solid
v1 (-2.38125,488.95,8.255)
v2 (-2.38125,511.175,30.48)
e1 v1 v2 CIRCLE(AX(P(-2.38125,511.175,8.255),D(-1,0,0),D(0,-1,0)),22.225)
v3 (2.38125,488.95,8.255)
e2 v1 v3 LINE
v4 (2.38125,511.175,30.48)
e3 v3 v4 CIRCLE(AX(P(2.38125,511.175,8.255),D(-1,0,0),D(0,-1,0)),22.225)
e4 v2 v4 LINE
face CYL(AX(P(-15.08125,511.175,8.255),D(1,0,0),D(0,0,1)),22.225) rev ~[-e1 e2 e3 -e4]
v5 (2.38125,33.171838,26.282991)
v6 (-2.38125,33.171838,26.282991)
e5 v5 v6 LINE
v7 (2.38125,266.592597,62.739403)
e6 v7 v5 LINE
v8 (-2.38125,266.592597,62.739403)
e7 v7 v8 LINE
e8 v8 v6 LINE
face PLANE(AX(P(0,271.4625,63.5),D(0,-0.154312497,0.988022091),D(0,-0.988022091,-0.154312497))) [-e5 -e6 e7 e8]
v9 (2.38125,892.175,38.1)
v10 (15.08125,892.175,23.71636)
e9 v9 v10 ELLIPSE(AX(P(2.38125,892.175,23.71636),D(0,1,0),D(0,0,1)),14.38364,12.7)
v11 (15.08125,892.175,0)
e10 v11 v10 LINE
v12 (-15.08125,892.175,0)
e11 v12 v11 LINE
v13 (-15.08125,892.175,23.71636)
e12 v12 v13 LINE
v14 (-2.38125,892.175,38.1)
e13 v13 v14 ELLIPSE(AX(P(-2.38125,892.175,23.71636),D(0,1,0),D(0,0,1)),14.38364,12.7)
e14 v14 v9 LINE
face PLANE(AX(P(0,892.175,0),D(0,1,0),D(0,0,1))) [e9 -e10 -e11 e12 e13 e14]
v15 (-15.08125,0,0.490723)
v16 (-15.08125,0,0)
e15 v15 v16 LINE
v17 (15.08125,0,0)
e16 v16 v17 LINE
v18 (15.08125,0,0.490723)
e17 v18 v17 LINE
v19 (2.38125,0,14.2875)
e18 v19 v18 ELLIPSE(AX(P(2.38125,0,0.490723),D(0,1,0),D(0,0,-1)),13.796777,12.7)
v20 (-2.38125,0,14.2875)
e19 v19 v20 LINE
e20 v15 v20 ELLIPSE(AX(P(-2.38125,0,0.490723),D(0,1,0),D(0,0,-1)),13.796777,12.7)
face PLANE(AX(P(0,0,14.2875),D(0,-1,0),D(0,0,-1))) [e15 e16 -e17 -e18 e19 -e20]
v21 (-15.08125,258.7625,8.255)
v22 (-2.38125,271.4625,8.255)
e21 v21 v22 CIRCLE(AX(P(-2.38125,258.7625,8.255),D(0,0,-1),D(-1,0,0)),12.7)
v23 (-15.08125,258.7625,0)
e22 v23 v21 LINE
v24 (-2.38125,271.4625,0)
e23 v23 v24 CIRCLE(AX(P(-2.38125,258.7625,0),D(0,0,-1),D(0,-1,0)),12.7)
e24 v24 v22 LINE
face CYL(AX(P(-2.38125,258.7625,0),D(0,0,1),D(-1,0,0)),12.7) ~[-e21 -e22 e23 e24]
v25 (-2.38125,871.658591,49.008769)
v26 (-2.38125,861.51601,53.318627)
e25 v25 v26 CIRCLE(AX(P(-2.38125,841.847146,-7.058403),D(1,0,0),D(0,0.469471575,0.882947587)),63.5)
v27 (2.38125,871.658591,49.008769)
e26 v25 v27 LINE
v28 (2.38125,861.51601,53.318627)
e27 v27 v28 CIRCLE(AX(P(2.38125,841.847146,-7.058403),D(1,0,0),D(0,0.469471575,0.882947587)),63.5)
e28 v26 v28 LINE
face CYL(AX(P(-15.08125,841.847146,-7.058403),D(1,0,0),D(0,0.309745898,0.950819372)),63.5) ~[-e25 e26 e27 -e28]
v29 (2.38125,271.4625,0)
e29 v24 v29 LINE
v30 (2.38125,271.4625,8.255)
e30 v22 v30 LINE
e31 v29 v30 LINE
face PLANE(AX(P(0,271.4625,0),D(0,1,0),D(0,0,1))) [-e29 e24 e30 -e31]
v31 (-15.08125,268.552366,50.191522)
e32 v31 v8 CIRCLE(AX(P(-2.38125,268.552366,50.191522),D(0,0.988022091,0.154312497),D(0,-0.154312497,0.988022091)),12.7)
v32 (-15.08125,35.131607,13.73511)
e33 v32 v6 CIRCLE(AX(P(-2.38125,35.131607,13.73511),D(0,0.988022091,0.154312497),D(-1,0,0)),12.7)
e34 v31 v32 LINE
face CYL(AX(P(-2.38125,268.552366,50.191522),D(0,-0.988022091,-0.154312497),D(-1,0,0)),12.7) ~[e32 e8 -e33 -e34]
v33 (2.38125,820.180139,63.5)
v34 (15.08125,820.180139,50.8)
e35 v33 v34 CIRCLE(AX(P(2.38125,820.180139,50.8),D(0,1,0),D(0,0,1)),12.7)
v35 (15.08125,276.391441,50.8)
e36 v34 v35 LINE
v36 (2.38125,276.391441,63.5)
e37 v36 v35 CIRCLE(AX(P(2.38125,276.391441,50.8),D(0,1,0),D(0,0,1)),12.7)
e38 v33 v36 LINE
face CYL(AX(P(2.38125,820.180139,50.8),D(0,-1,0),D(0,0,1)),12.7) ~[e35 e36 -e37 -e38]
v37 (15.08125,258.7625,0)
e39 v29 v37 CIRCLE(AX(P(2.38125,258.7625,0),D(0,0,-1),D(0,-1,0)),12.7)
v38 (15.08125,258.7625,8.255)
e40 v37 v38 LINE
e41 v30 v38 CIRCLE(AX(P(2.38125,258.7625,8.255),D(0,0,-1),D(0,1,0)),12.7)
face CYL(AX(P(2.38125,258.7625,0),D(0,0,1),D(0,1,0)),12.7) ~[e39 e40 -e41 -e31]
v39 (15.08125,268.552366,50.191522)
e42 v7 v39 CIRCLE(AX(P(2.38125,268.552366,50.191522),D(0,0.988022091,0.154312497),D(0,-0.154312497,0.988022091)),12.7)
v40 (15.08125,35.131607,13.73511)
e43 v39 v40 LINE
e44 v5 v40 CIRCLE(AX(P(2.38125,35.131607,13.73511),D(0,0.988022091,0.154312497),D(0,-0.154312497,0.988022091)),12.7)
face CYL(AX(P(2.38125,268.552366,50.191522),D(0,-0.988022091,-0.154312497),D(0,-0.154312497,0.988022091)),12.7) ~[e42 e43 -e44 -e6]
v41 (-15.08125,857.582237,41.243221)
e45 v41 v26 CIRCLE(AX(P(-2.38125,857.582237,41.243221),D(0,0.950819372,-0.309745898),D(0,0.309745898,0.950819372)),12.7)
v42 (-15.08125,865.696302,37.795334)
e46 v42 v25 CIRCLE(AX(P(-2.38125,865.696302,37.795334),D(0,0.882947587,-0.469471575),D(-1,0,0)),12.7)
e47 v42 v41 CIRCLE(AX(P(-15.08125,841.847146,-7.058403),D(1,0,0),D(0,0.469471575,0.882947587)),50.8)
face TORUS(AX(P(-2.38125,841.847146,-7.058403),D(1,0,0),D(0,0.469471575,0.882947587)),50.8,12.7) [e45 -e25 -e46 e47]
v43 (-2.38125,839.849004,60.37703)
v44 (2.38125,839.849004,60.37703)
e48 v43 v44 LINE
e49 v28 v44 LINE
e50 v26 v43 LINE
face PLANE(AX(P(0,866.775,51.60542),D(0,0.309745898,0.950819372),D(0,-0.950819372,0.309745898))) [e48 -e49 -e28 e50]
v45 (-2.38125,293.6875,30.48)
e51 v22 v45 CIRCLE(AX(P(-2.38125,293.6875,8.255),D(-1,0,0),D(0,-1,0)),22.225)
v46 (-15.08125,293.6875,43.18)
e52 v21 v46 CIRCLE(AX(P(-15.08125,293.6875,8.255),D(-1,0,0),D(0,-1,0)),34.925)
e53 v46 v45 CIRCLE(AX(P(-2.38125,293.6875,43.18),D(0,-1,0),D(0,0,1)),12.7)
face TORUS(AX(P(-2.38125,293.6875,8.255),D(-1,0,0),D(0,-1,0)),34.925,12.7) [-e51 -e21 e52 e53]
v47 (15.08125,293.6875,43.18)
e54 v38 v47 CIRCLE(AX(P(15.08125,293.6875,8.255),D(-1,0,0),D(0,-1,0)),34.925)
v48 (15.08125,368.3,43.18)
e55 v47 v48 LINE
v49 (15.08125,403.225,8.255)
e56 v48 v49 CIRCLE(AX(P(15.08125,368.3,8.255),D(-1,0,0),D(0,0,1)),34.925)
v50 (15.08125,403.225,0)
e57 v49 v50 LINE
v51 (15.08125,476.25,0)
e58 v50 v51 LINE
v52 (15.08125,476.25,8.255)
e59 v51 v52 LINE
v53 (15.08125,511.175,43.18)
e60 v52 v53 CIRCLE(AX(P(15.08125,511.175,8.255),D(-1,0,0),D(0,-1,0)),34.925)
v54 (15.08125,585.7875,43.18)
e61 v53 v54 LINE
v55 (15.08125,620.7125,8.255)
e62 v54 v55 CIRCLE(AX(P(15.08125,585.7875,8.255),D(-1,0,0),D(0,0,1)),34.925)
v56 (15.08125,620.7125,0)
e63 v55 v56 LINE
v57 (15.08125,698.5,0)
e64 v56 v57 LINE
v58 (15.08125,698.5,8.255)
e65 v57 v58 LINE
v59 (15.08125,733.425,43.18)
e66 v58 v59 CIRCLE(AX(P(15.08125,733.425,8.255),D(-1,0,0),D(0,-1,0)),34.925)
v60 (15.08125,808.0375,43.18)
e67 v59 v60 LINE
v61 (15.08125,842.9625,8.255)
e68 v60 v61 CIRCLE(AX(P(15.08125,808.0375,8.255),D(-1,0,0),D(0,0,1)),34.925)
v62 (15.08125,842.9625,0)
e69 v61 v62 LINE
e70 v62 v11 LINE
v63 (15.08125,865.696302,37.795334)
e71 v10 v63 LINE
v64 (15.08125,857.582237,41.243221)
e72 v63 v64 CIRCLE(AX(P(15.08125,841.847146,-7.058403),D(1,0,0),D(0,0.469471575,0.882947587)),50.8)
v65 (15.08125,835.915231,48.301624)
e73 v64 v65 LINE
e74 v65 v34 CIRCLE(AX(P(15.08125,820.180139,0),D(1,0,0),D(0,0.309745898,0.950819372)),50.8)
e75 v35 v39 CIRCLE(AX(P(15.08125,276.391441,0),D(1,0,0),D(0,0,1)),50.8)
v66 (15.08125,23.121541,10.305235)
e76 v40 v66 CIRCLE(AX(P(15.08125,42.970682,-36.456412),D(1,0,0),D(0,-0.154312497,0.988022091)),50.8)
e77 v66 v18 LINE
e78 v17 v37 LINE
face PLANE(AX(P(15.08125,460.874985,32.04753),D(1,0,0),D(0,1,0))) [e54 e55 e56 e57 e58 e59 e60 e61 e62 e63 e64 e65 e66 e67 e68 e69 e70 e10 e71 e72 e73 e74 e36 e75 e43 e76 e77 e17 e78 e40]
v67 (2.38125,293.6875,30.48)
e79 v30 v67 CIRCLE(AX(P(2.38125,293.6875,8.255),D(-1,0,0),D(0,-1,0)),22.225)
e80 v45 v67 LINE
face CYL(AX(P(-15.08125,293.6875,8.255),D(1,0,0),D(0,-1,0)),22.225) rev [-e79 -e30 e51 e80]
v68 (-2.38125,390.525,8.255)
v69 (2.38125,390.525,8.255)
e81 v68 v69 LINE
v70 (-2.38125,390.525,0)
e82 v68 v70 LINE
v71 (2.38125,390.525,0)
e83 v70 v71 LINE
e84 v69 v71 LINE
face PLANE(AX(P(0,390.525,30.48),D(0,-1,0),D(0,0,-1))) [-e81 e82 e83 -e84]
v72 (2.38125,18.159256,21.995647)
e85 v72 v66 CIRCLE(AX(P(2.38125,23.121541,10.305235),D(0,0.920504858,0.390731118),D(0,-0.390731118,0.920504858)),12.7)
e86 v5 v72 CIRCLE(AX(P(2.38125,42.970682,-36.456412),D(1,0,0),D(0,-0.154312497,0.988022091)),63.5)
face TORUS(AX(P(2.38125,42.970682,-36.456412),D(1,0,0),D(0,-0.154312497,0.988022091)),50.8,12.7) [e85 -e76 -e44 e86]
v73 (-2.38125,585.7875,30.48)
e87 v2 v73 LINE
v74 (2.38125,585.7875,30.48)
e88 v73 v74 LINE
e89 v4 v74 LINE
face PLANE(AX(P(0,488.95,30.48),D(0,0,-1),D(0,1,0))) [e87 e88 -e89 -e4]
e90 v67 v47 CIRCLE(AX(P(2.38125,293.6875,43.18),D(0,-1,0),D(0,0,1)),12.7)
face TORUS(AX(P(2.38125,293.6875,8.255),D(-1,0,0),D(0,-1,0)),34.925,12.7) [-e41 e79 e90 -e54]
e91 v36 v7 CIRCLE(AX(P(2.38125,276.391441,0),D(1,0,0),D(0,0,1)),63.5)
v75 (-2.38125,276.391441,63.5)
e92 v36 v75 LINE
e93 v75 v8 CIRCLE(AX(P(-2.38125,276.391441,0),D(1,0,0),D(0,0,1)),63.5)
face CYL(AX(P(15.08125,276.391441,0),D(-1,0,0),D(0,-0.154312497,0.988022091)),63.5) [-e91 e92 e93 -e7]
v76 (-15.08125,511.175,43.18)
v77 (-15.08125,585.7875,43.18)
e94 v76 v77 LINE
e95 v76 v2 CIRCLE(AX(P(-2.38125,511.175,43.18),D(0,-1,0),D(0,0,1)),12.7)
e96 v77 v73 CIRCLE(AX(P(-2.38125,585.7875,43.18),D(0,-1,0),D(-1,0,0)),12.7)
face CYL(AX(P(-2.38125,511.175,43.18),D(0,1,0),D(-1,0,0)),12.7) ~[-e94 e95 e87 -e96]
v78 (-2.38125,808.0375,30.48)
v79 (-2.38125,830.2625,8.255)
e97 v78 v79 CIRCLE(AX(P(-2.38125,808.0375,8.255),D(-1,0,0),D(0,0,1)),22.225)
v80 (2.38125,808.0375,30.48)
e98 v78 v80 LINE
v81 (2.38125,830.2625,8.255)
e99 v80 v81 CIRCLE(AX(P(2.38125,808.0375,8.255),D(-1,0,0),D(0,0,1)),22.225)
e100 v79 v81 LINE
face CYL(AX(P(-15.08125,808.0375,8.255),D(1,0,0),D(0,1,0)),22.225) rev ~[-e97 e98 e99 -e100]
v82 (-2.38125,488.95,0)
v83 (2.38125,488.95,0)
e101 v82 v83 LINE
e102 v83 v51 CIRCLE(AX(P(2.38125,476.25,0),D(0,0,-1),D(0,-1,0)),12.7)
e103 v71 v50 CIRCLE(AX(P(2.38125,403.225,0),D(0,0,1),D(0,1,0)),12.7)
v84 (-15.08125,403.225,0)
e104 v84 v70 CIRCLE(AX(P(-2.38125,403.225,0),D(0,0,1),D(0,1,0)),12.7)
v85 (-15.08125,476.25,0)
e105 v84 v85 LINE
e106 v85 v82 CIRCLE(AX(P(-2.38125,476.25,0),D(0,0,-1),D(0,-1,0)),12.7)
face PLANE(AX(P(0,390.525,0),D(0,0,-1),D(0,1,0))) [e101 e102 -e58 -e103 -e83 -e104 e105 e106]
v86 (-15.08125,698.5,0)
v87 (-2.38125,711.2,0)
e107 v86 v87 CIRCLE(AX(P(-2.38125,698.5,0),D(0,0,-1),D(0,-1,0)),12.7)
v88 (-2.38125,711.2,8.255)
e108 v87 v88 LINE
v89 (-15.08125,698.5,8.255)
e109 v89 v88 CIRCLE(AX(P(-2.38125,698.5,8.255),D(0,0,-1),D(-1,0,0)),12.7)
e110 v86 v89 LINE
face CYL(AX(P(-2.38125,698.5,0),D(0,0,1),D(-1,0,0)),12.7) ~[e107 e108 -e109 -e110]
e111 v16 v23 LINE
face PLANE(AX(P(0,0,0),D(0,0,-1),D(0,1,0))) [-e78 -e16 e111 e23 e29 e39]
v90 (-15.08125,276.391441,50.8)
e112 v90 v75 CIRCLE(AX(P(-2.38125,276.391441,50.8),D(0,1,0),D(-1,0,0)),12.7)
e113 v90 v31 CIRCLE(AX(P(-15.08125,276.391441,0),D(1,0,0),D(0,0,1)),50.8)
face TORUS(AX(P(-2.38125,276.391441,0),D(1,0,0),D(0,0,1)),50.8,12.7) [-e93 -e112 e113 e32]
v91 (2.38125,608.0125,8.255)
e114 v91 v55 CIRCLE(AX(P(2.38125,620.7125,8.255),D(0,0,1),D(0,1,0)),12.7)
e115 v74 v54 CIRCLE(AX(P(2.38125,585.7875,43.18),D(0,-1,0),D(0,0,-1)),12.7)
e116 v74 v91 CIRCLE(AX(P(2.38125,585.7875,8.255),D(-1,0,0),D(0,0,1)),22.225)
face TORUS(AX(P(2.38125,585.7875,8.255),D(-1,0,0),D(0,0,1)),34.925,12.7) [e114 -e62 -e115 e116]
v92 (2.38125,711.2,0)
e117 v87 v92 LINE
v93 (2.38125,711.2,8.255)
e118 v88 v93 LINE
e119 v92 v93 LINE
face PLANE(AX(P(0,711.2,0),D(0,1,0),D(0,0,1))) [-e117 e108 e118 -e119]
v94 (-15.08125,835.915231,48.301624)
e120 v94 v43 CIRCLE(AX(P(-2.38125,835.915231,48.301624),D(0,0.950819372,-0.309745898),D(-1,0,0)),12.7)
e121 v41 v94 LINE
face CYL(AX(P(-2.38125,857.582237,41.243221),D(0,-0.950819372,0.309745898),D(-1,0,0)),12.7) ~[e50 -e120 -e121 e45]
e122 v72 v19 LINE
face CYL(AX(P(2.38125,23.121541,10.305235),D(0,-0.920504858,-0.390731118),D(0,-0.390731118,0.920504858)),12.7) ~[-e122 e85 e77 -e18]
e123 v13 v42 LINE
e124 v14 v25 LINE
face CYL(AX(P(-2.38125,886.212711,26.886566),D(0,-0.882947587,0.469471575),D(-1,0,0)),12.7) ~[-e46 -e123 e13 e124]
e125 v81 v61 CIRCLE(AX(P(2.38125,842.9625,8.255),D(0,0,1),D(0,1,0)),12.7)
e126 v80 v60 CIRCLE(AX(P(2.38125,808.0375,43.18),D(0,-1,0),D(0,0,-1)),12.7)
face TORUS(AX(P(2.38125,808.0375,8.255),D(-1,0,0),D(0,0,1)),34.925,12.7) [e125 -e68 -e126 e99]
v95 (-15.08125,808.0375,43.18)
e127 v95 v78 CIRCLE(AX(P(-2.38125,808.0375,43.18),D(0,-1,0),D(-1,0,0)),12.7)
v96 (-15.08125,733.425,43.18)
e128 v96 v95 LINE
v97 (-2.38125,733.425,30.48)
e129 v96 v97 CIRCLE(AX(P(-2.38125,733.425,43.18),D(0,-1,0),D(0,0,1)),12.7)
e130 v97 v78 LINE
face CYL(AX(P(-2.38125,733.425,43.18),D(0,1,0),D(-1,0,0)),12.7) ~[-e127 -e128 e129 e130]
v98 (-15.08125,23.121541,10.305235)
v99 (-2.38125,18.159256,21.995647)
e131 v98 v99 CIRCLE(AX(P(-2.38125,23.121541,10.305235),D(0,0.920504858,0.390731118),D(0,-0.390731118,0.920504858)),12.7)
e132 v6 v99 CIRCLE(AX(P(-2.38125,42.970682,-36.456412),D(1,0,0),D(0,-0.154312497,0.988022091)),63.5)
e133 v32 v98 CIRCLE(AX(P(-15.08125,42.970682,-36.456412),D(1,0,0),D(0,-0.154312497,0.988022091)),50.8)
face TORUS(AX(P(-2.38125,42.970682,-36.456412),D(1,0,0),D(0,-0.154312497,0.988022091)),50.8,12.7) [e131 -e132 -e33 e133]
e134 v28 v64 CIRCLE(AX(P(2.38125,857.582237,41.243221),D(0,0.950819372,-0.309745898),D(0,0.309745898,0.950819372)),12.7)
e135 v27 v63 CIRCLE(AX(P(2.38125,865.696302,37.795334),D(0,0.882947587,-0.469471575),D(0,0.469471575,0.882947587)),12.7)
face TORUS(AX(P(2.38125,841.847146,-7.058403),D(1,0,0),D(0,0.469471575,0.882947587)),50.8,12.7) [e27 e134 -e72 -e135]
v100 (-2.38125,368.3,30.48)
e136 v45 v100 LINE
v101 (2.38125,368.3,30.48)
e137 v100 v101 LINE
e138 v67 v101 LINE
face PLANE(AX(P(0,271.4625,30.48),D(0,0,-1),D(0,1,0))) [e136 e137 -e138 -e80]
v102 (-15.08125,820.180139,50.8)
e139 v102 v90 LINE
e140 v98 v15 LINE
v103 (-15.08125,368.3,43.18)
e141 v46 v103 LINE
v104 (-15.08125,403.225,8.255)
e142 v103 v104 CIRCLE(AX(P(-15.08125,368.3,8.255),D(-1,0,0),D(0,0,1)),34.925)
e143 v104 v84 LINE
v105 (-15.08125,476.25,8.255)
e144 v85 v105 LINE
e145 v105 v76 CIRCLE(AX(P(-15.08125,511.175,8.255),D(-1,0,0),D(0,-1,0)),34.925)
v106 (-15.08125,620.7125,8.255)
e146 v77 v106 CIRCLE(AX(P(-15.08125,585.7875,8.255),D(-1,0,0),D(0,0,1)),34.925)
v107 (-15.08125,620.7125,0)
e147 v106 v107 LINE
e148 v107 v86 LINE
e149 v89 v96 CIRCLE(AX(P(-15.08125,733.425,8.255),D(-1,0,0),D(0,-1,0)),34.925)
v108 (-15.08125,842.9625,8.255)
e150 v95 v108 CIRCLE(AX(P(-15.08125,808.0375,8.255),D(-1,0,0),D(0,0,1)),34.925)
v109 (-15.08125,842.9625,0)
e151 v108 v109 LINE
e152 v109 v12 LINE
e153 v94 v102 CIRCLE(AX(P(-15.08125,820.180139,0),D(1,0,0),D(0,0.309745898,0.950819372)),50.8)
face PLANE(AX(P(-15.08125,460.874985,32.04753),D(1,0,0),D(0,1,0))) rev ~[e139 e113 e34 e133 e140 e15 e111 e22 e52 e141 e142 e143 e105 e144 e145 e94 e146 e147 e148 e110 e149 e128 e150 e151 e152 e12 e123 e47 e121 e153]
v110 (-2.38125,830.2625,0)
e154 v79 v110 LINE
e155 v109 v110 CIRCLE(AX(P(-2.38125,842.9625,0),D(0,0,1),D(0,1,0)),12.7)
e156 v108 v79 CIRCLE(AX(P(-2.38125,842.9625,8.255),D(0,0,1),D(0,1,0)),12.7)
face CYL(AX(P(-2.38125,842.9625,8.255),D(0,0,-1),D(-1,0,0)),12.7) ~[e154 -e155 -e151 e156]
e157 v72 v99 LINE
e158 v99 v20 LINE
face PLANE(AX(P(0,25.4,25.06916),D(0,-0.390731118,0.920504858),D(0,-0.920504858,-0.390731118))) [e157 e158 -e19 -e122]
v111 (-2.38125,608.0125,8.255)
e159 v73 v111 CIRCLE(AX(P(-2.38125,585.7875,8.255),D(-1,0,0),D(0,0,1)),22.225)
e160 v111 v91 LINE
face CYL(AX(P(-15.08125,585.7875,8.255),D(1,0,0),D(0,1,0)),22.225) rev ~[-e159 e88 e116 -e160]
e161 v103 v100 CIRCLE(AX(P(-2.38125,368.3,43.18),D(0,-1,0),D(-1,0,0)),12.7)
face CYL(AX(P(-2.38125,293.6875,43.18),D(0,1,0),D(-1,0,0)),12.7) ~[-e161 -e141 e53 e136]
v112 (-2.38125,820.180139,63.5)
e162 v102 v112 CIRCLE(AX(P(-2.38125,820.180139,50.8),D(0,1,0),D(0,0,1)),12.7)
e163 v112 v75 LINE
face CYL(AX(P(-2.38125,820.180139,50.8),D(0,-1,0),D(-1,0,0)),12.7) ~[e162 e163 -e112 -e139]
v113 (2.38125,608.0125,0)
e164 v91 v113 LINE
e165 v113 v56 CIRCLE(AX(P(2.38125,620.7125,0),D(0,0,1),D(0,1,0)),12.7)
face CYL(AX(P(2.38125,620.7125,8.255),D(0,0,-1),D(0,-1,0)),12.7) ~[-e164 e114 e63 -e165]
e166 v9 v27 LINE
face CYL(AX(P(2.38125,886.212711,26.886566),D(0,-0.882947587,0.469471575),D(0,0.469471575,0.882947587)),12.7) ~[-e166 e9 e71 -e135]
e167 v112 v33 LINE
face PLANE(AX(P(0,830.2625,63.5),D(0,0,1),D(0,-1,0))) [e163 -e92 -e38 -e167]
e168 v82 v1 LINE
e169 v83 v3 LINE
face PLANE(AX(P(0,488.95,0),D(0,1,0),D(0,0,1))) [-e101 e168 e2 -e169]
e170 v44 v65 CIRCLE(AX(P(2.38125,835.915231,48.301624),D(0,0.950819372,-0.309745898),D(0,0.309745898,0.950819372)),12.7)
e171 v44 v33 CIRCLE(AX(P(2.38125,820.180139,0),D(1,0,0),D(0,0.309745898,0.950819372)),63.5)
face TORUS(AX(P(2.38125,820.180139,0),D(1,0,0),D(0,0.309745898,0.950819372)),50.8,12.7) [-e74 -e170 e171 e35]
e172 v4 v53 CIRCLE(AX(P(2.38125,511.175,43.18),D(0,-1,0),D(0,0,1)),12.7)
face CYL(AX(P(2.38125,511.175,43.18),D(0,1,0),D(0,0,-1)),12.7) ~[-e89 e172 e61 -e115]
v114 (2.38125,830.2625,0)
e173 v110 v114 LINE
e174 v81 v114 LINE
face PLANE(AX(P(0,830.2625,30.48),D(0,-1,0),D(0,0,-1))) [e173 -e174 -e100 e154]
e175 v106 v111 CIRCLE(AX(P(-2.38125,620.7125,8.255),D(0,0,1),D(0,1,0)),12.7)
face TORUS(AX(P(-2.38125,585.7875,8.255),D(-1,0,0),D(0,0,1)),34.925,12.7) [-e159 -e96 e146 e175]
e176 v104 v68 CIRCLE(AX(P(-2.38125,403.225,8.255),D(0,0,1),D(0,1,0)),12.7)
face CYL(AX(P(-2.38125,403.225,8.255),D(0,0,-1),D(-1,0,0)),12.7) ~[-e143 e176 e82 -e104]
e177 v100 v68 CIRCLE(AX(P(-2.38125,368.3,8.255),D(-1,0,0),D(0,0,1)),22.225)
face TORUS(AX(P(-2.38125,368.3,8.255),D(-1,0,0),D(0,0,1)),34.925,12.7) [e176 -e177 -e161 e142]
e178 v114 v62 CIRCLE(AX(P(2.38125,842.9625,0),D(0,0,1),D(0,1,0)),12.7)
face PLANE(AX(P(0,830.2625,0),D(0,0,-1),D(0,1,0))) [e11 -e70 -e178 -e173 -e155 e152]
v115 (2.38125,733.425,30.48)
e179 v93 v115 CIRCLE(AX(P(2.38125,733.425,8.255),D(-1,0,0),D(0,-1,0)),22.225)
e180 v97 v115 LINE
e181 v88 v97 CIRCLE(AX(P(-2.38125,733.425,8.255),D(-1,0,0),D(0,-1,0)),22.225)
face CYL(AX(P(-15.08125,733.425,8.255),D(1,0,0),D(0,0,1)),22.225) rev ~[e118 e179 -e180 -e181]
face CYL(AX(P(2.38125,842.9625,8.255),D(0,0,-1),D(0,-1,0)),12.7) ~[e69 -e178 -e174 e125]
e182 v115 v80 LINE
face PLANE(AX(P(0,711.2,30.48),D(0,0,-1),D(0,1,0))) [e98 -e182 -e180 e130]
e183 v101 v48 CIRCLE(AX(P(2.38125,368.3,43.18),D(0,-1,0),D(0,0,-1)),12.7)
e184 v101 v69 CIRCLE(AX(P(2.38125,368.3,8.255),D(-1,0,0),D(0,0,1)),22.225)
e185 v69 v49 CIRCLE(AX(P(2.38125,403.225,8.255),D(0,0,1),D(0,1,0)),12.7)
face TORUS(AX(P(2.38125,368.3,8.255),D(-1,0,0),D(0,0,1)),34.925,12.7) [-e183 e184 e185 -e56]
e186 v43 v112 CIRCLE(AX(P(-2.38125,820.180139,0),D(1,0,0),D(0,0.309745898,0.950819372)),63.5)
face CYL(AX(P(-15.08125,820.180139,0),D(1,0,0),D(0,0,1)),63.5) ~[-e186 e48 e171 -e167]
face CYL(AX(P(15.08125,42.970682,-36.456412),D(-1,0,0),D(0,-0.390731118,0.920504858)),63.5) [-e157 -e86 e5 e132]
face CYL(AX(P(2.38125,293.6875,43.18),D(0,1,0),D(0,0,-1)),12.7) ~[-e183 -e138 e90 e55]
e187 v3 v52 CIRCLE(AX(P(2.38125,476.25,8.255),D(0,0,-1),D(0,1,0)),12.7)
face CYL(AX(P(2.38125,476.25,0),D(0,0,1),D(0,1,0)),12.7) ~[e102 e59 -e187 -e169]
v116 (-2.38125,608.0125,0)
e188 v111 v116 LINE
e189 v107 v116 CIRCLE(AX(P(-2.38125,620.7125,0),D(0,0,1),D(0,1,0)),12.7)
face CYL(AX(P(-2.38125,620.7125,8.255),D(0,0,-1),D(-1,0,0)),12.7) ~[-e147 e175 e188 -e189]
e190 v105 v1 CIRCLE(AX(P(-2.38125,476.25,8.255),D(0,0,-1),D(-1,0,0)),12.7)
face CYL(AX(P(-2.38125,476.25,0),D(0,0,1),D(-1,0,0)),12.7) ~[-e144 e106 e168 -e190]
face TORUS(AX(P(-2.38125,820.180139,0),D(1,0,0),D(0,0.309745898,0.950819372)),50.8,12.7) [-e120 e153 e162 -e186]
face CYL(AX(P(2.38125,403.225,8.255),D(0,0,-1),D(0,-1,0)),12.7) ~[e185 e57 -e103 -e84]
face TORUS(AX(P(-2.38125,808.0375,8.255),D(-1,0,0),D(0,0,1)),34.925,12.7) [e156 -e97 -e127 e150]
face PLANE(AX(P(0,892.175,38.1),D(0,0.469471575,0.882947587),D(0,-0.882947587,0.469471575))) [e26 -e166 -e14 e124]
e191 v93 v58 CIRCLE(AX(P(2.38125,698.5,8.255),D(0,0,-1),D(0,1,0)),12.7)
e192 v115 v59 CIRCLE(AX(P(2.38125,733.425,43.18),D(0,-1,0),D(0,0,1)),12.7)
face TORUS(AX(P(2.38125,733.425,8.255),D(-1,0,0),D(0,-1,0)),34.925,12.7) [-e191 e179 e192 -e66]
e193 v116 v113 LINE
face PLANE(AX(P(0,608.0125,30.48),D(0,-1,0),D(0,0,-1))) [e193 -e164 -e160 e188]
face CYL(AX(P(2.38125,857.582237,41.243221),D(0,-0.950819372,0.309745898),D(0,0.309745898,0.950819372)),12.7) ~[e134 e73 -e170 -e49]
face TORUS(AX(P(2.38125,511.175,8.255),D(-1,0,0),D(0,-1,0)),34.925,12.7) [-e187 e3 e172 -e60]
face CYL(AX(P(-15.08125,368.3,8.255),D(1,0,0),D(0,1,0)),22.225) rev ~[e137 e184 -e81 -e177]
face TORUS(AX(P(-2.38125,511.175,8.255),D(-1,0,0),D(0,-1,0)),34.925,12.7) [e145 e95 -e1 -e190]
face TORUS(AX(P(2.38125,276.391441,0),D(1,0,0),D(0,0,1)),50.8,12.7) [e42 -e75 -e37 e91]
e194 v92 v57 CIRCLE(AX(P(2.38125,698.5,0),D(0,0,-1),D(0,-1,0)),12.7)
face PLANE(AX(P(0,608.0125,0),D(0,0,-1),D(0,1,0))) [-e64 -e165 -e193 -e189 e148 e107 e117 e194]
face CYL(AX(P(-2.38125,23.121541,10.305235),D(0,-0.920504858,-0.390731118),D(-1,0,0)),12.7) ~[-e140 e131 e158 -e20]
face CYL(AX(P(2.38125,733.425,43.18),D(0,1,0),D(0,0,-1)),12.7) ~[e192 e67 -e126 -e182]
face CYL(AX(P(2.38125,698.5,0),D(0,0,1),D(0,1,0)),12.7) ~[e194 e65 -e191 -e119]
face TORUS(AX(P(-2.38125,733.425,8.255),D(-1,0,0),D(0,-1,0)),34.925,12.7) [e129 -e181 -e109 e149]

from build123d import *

# Parameters (mm, degrees)
F1_DEPTH      = 15.08125
F1_DEPTH_BACK = 15.08125
F2_R          = 63.5
F3_R          = 22.225
F4_R          = 12.7


with BuildPart() as f1:
    # F0 (on Right) → F1 (new body, two sides)
    with BuildSketch(Plane.YZ) as f1_sk:
        Polygon((0, 14.2875), (0, 0), (271.4625, 0), (271.4625, 30.48), (390.525, 30.48), (390.525, 0), (488.95, 0), (488.95, 30.48), (608.0125, 30.48), (608.0125, 0), (711.2, 0), (711.2, 30.48), (830.2625, 30.48), (830.2625, 0), (892.175, 0), (892.175, 38.1), (866.775, 51.60542), (830.2625, 63.5), (271.4625, 63.5), (25.4, 25.06916), align=None)
    extrude(amount=F1_DEPTH)
    extrude(f1_sk.sketch, amount=-F1_DEPTH_BACK)

    # F2
    f2_edges = [f1.edges().sort_by_distance(p)[0] for p in [
        (0, 25.4, 25.06916),
        (0, 271.4625, 63.5),
        (0, 830.2625, 63.5),
        (0, 866.775, 51.60542),
    ]]
    fillet(f2_edges, radius=F2_R)

    # F3
    f3_edges = [f1.edges().sort_by_distance(p)[0] for p in [
        (0, 271.4625, 30.48),
        (0, 488.95, 30.48),
        (0, 711.2, 30.48),
        (0, 390.525, 30.48),
        (0, 608.0125, 30.48),
        (0, 830.2625, 30.48),
    ]]
    fillet(f3_edges, radius=F3_R)

    # F4
    f4_edges = [f1.edges().sort_by_distance(p)[0] for p in [
        (-15.08125, 330.99375, 30.48),
        (15.08125, 330.99375, 30.48),
        (-15.08125, 548.48125, 30.48),
        (15.08125, 548.48125, 30.48),
        (-15.08125, 770.73125, 30.48),
        (15.08125, 770.73125, 30.48),
        (15.08125, 548.28579, 63.5),
        (-15.08125, 548.28579, 63.5),
    ]]
    fillet(f4_edges, radius=F4_R)


solid = f1.part
